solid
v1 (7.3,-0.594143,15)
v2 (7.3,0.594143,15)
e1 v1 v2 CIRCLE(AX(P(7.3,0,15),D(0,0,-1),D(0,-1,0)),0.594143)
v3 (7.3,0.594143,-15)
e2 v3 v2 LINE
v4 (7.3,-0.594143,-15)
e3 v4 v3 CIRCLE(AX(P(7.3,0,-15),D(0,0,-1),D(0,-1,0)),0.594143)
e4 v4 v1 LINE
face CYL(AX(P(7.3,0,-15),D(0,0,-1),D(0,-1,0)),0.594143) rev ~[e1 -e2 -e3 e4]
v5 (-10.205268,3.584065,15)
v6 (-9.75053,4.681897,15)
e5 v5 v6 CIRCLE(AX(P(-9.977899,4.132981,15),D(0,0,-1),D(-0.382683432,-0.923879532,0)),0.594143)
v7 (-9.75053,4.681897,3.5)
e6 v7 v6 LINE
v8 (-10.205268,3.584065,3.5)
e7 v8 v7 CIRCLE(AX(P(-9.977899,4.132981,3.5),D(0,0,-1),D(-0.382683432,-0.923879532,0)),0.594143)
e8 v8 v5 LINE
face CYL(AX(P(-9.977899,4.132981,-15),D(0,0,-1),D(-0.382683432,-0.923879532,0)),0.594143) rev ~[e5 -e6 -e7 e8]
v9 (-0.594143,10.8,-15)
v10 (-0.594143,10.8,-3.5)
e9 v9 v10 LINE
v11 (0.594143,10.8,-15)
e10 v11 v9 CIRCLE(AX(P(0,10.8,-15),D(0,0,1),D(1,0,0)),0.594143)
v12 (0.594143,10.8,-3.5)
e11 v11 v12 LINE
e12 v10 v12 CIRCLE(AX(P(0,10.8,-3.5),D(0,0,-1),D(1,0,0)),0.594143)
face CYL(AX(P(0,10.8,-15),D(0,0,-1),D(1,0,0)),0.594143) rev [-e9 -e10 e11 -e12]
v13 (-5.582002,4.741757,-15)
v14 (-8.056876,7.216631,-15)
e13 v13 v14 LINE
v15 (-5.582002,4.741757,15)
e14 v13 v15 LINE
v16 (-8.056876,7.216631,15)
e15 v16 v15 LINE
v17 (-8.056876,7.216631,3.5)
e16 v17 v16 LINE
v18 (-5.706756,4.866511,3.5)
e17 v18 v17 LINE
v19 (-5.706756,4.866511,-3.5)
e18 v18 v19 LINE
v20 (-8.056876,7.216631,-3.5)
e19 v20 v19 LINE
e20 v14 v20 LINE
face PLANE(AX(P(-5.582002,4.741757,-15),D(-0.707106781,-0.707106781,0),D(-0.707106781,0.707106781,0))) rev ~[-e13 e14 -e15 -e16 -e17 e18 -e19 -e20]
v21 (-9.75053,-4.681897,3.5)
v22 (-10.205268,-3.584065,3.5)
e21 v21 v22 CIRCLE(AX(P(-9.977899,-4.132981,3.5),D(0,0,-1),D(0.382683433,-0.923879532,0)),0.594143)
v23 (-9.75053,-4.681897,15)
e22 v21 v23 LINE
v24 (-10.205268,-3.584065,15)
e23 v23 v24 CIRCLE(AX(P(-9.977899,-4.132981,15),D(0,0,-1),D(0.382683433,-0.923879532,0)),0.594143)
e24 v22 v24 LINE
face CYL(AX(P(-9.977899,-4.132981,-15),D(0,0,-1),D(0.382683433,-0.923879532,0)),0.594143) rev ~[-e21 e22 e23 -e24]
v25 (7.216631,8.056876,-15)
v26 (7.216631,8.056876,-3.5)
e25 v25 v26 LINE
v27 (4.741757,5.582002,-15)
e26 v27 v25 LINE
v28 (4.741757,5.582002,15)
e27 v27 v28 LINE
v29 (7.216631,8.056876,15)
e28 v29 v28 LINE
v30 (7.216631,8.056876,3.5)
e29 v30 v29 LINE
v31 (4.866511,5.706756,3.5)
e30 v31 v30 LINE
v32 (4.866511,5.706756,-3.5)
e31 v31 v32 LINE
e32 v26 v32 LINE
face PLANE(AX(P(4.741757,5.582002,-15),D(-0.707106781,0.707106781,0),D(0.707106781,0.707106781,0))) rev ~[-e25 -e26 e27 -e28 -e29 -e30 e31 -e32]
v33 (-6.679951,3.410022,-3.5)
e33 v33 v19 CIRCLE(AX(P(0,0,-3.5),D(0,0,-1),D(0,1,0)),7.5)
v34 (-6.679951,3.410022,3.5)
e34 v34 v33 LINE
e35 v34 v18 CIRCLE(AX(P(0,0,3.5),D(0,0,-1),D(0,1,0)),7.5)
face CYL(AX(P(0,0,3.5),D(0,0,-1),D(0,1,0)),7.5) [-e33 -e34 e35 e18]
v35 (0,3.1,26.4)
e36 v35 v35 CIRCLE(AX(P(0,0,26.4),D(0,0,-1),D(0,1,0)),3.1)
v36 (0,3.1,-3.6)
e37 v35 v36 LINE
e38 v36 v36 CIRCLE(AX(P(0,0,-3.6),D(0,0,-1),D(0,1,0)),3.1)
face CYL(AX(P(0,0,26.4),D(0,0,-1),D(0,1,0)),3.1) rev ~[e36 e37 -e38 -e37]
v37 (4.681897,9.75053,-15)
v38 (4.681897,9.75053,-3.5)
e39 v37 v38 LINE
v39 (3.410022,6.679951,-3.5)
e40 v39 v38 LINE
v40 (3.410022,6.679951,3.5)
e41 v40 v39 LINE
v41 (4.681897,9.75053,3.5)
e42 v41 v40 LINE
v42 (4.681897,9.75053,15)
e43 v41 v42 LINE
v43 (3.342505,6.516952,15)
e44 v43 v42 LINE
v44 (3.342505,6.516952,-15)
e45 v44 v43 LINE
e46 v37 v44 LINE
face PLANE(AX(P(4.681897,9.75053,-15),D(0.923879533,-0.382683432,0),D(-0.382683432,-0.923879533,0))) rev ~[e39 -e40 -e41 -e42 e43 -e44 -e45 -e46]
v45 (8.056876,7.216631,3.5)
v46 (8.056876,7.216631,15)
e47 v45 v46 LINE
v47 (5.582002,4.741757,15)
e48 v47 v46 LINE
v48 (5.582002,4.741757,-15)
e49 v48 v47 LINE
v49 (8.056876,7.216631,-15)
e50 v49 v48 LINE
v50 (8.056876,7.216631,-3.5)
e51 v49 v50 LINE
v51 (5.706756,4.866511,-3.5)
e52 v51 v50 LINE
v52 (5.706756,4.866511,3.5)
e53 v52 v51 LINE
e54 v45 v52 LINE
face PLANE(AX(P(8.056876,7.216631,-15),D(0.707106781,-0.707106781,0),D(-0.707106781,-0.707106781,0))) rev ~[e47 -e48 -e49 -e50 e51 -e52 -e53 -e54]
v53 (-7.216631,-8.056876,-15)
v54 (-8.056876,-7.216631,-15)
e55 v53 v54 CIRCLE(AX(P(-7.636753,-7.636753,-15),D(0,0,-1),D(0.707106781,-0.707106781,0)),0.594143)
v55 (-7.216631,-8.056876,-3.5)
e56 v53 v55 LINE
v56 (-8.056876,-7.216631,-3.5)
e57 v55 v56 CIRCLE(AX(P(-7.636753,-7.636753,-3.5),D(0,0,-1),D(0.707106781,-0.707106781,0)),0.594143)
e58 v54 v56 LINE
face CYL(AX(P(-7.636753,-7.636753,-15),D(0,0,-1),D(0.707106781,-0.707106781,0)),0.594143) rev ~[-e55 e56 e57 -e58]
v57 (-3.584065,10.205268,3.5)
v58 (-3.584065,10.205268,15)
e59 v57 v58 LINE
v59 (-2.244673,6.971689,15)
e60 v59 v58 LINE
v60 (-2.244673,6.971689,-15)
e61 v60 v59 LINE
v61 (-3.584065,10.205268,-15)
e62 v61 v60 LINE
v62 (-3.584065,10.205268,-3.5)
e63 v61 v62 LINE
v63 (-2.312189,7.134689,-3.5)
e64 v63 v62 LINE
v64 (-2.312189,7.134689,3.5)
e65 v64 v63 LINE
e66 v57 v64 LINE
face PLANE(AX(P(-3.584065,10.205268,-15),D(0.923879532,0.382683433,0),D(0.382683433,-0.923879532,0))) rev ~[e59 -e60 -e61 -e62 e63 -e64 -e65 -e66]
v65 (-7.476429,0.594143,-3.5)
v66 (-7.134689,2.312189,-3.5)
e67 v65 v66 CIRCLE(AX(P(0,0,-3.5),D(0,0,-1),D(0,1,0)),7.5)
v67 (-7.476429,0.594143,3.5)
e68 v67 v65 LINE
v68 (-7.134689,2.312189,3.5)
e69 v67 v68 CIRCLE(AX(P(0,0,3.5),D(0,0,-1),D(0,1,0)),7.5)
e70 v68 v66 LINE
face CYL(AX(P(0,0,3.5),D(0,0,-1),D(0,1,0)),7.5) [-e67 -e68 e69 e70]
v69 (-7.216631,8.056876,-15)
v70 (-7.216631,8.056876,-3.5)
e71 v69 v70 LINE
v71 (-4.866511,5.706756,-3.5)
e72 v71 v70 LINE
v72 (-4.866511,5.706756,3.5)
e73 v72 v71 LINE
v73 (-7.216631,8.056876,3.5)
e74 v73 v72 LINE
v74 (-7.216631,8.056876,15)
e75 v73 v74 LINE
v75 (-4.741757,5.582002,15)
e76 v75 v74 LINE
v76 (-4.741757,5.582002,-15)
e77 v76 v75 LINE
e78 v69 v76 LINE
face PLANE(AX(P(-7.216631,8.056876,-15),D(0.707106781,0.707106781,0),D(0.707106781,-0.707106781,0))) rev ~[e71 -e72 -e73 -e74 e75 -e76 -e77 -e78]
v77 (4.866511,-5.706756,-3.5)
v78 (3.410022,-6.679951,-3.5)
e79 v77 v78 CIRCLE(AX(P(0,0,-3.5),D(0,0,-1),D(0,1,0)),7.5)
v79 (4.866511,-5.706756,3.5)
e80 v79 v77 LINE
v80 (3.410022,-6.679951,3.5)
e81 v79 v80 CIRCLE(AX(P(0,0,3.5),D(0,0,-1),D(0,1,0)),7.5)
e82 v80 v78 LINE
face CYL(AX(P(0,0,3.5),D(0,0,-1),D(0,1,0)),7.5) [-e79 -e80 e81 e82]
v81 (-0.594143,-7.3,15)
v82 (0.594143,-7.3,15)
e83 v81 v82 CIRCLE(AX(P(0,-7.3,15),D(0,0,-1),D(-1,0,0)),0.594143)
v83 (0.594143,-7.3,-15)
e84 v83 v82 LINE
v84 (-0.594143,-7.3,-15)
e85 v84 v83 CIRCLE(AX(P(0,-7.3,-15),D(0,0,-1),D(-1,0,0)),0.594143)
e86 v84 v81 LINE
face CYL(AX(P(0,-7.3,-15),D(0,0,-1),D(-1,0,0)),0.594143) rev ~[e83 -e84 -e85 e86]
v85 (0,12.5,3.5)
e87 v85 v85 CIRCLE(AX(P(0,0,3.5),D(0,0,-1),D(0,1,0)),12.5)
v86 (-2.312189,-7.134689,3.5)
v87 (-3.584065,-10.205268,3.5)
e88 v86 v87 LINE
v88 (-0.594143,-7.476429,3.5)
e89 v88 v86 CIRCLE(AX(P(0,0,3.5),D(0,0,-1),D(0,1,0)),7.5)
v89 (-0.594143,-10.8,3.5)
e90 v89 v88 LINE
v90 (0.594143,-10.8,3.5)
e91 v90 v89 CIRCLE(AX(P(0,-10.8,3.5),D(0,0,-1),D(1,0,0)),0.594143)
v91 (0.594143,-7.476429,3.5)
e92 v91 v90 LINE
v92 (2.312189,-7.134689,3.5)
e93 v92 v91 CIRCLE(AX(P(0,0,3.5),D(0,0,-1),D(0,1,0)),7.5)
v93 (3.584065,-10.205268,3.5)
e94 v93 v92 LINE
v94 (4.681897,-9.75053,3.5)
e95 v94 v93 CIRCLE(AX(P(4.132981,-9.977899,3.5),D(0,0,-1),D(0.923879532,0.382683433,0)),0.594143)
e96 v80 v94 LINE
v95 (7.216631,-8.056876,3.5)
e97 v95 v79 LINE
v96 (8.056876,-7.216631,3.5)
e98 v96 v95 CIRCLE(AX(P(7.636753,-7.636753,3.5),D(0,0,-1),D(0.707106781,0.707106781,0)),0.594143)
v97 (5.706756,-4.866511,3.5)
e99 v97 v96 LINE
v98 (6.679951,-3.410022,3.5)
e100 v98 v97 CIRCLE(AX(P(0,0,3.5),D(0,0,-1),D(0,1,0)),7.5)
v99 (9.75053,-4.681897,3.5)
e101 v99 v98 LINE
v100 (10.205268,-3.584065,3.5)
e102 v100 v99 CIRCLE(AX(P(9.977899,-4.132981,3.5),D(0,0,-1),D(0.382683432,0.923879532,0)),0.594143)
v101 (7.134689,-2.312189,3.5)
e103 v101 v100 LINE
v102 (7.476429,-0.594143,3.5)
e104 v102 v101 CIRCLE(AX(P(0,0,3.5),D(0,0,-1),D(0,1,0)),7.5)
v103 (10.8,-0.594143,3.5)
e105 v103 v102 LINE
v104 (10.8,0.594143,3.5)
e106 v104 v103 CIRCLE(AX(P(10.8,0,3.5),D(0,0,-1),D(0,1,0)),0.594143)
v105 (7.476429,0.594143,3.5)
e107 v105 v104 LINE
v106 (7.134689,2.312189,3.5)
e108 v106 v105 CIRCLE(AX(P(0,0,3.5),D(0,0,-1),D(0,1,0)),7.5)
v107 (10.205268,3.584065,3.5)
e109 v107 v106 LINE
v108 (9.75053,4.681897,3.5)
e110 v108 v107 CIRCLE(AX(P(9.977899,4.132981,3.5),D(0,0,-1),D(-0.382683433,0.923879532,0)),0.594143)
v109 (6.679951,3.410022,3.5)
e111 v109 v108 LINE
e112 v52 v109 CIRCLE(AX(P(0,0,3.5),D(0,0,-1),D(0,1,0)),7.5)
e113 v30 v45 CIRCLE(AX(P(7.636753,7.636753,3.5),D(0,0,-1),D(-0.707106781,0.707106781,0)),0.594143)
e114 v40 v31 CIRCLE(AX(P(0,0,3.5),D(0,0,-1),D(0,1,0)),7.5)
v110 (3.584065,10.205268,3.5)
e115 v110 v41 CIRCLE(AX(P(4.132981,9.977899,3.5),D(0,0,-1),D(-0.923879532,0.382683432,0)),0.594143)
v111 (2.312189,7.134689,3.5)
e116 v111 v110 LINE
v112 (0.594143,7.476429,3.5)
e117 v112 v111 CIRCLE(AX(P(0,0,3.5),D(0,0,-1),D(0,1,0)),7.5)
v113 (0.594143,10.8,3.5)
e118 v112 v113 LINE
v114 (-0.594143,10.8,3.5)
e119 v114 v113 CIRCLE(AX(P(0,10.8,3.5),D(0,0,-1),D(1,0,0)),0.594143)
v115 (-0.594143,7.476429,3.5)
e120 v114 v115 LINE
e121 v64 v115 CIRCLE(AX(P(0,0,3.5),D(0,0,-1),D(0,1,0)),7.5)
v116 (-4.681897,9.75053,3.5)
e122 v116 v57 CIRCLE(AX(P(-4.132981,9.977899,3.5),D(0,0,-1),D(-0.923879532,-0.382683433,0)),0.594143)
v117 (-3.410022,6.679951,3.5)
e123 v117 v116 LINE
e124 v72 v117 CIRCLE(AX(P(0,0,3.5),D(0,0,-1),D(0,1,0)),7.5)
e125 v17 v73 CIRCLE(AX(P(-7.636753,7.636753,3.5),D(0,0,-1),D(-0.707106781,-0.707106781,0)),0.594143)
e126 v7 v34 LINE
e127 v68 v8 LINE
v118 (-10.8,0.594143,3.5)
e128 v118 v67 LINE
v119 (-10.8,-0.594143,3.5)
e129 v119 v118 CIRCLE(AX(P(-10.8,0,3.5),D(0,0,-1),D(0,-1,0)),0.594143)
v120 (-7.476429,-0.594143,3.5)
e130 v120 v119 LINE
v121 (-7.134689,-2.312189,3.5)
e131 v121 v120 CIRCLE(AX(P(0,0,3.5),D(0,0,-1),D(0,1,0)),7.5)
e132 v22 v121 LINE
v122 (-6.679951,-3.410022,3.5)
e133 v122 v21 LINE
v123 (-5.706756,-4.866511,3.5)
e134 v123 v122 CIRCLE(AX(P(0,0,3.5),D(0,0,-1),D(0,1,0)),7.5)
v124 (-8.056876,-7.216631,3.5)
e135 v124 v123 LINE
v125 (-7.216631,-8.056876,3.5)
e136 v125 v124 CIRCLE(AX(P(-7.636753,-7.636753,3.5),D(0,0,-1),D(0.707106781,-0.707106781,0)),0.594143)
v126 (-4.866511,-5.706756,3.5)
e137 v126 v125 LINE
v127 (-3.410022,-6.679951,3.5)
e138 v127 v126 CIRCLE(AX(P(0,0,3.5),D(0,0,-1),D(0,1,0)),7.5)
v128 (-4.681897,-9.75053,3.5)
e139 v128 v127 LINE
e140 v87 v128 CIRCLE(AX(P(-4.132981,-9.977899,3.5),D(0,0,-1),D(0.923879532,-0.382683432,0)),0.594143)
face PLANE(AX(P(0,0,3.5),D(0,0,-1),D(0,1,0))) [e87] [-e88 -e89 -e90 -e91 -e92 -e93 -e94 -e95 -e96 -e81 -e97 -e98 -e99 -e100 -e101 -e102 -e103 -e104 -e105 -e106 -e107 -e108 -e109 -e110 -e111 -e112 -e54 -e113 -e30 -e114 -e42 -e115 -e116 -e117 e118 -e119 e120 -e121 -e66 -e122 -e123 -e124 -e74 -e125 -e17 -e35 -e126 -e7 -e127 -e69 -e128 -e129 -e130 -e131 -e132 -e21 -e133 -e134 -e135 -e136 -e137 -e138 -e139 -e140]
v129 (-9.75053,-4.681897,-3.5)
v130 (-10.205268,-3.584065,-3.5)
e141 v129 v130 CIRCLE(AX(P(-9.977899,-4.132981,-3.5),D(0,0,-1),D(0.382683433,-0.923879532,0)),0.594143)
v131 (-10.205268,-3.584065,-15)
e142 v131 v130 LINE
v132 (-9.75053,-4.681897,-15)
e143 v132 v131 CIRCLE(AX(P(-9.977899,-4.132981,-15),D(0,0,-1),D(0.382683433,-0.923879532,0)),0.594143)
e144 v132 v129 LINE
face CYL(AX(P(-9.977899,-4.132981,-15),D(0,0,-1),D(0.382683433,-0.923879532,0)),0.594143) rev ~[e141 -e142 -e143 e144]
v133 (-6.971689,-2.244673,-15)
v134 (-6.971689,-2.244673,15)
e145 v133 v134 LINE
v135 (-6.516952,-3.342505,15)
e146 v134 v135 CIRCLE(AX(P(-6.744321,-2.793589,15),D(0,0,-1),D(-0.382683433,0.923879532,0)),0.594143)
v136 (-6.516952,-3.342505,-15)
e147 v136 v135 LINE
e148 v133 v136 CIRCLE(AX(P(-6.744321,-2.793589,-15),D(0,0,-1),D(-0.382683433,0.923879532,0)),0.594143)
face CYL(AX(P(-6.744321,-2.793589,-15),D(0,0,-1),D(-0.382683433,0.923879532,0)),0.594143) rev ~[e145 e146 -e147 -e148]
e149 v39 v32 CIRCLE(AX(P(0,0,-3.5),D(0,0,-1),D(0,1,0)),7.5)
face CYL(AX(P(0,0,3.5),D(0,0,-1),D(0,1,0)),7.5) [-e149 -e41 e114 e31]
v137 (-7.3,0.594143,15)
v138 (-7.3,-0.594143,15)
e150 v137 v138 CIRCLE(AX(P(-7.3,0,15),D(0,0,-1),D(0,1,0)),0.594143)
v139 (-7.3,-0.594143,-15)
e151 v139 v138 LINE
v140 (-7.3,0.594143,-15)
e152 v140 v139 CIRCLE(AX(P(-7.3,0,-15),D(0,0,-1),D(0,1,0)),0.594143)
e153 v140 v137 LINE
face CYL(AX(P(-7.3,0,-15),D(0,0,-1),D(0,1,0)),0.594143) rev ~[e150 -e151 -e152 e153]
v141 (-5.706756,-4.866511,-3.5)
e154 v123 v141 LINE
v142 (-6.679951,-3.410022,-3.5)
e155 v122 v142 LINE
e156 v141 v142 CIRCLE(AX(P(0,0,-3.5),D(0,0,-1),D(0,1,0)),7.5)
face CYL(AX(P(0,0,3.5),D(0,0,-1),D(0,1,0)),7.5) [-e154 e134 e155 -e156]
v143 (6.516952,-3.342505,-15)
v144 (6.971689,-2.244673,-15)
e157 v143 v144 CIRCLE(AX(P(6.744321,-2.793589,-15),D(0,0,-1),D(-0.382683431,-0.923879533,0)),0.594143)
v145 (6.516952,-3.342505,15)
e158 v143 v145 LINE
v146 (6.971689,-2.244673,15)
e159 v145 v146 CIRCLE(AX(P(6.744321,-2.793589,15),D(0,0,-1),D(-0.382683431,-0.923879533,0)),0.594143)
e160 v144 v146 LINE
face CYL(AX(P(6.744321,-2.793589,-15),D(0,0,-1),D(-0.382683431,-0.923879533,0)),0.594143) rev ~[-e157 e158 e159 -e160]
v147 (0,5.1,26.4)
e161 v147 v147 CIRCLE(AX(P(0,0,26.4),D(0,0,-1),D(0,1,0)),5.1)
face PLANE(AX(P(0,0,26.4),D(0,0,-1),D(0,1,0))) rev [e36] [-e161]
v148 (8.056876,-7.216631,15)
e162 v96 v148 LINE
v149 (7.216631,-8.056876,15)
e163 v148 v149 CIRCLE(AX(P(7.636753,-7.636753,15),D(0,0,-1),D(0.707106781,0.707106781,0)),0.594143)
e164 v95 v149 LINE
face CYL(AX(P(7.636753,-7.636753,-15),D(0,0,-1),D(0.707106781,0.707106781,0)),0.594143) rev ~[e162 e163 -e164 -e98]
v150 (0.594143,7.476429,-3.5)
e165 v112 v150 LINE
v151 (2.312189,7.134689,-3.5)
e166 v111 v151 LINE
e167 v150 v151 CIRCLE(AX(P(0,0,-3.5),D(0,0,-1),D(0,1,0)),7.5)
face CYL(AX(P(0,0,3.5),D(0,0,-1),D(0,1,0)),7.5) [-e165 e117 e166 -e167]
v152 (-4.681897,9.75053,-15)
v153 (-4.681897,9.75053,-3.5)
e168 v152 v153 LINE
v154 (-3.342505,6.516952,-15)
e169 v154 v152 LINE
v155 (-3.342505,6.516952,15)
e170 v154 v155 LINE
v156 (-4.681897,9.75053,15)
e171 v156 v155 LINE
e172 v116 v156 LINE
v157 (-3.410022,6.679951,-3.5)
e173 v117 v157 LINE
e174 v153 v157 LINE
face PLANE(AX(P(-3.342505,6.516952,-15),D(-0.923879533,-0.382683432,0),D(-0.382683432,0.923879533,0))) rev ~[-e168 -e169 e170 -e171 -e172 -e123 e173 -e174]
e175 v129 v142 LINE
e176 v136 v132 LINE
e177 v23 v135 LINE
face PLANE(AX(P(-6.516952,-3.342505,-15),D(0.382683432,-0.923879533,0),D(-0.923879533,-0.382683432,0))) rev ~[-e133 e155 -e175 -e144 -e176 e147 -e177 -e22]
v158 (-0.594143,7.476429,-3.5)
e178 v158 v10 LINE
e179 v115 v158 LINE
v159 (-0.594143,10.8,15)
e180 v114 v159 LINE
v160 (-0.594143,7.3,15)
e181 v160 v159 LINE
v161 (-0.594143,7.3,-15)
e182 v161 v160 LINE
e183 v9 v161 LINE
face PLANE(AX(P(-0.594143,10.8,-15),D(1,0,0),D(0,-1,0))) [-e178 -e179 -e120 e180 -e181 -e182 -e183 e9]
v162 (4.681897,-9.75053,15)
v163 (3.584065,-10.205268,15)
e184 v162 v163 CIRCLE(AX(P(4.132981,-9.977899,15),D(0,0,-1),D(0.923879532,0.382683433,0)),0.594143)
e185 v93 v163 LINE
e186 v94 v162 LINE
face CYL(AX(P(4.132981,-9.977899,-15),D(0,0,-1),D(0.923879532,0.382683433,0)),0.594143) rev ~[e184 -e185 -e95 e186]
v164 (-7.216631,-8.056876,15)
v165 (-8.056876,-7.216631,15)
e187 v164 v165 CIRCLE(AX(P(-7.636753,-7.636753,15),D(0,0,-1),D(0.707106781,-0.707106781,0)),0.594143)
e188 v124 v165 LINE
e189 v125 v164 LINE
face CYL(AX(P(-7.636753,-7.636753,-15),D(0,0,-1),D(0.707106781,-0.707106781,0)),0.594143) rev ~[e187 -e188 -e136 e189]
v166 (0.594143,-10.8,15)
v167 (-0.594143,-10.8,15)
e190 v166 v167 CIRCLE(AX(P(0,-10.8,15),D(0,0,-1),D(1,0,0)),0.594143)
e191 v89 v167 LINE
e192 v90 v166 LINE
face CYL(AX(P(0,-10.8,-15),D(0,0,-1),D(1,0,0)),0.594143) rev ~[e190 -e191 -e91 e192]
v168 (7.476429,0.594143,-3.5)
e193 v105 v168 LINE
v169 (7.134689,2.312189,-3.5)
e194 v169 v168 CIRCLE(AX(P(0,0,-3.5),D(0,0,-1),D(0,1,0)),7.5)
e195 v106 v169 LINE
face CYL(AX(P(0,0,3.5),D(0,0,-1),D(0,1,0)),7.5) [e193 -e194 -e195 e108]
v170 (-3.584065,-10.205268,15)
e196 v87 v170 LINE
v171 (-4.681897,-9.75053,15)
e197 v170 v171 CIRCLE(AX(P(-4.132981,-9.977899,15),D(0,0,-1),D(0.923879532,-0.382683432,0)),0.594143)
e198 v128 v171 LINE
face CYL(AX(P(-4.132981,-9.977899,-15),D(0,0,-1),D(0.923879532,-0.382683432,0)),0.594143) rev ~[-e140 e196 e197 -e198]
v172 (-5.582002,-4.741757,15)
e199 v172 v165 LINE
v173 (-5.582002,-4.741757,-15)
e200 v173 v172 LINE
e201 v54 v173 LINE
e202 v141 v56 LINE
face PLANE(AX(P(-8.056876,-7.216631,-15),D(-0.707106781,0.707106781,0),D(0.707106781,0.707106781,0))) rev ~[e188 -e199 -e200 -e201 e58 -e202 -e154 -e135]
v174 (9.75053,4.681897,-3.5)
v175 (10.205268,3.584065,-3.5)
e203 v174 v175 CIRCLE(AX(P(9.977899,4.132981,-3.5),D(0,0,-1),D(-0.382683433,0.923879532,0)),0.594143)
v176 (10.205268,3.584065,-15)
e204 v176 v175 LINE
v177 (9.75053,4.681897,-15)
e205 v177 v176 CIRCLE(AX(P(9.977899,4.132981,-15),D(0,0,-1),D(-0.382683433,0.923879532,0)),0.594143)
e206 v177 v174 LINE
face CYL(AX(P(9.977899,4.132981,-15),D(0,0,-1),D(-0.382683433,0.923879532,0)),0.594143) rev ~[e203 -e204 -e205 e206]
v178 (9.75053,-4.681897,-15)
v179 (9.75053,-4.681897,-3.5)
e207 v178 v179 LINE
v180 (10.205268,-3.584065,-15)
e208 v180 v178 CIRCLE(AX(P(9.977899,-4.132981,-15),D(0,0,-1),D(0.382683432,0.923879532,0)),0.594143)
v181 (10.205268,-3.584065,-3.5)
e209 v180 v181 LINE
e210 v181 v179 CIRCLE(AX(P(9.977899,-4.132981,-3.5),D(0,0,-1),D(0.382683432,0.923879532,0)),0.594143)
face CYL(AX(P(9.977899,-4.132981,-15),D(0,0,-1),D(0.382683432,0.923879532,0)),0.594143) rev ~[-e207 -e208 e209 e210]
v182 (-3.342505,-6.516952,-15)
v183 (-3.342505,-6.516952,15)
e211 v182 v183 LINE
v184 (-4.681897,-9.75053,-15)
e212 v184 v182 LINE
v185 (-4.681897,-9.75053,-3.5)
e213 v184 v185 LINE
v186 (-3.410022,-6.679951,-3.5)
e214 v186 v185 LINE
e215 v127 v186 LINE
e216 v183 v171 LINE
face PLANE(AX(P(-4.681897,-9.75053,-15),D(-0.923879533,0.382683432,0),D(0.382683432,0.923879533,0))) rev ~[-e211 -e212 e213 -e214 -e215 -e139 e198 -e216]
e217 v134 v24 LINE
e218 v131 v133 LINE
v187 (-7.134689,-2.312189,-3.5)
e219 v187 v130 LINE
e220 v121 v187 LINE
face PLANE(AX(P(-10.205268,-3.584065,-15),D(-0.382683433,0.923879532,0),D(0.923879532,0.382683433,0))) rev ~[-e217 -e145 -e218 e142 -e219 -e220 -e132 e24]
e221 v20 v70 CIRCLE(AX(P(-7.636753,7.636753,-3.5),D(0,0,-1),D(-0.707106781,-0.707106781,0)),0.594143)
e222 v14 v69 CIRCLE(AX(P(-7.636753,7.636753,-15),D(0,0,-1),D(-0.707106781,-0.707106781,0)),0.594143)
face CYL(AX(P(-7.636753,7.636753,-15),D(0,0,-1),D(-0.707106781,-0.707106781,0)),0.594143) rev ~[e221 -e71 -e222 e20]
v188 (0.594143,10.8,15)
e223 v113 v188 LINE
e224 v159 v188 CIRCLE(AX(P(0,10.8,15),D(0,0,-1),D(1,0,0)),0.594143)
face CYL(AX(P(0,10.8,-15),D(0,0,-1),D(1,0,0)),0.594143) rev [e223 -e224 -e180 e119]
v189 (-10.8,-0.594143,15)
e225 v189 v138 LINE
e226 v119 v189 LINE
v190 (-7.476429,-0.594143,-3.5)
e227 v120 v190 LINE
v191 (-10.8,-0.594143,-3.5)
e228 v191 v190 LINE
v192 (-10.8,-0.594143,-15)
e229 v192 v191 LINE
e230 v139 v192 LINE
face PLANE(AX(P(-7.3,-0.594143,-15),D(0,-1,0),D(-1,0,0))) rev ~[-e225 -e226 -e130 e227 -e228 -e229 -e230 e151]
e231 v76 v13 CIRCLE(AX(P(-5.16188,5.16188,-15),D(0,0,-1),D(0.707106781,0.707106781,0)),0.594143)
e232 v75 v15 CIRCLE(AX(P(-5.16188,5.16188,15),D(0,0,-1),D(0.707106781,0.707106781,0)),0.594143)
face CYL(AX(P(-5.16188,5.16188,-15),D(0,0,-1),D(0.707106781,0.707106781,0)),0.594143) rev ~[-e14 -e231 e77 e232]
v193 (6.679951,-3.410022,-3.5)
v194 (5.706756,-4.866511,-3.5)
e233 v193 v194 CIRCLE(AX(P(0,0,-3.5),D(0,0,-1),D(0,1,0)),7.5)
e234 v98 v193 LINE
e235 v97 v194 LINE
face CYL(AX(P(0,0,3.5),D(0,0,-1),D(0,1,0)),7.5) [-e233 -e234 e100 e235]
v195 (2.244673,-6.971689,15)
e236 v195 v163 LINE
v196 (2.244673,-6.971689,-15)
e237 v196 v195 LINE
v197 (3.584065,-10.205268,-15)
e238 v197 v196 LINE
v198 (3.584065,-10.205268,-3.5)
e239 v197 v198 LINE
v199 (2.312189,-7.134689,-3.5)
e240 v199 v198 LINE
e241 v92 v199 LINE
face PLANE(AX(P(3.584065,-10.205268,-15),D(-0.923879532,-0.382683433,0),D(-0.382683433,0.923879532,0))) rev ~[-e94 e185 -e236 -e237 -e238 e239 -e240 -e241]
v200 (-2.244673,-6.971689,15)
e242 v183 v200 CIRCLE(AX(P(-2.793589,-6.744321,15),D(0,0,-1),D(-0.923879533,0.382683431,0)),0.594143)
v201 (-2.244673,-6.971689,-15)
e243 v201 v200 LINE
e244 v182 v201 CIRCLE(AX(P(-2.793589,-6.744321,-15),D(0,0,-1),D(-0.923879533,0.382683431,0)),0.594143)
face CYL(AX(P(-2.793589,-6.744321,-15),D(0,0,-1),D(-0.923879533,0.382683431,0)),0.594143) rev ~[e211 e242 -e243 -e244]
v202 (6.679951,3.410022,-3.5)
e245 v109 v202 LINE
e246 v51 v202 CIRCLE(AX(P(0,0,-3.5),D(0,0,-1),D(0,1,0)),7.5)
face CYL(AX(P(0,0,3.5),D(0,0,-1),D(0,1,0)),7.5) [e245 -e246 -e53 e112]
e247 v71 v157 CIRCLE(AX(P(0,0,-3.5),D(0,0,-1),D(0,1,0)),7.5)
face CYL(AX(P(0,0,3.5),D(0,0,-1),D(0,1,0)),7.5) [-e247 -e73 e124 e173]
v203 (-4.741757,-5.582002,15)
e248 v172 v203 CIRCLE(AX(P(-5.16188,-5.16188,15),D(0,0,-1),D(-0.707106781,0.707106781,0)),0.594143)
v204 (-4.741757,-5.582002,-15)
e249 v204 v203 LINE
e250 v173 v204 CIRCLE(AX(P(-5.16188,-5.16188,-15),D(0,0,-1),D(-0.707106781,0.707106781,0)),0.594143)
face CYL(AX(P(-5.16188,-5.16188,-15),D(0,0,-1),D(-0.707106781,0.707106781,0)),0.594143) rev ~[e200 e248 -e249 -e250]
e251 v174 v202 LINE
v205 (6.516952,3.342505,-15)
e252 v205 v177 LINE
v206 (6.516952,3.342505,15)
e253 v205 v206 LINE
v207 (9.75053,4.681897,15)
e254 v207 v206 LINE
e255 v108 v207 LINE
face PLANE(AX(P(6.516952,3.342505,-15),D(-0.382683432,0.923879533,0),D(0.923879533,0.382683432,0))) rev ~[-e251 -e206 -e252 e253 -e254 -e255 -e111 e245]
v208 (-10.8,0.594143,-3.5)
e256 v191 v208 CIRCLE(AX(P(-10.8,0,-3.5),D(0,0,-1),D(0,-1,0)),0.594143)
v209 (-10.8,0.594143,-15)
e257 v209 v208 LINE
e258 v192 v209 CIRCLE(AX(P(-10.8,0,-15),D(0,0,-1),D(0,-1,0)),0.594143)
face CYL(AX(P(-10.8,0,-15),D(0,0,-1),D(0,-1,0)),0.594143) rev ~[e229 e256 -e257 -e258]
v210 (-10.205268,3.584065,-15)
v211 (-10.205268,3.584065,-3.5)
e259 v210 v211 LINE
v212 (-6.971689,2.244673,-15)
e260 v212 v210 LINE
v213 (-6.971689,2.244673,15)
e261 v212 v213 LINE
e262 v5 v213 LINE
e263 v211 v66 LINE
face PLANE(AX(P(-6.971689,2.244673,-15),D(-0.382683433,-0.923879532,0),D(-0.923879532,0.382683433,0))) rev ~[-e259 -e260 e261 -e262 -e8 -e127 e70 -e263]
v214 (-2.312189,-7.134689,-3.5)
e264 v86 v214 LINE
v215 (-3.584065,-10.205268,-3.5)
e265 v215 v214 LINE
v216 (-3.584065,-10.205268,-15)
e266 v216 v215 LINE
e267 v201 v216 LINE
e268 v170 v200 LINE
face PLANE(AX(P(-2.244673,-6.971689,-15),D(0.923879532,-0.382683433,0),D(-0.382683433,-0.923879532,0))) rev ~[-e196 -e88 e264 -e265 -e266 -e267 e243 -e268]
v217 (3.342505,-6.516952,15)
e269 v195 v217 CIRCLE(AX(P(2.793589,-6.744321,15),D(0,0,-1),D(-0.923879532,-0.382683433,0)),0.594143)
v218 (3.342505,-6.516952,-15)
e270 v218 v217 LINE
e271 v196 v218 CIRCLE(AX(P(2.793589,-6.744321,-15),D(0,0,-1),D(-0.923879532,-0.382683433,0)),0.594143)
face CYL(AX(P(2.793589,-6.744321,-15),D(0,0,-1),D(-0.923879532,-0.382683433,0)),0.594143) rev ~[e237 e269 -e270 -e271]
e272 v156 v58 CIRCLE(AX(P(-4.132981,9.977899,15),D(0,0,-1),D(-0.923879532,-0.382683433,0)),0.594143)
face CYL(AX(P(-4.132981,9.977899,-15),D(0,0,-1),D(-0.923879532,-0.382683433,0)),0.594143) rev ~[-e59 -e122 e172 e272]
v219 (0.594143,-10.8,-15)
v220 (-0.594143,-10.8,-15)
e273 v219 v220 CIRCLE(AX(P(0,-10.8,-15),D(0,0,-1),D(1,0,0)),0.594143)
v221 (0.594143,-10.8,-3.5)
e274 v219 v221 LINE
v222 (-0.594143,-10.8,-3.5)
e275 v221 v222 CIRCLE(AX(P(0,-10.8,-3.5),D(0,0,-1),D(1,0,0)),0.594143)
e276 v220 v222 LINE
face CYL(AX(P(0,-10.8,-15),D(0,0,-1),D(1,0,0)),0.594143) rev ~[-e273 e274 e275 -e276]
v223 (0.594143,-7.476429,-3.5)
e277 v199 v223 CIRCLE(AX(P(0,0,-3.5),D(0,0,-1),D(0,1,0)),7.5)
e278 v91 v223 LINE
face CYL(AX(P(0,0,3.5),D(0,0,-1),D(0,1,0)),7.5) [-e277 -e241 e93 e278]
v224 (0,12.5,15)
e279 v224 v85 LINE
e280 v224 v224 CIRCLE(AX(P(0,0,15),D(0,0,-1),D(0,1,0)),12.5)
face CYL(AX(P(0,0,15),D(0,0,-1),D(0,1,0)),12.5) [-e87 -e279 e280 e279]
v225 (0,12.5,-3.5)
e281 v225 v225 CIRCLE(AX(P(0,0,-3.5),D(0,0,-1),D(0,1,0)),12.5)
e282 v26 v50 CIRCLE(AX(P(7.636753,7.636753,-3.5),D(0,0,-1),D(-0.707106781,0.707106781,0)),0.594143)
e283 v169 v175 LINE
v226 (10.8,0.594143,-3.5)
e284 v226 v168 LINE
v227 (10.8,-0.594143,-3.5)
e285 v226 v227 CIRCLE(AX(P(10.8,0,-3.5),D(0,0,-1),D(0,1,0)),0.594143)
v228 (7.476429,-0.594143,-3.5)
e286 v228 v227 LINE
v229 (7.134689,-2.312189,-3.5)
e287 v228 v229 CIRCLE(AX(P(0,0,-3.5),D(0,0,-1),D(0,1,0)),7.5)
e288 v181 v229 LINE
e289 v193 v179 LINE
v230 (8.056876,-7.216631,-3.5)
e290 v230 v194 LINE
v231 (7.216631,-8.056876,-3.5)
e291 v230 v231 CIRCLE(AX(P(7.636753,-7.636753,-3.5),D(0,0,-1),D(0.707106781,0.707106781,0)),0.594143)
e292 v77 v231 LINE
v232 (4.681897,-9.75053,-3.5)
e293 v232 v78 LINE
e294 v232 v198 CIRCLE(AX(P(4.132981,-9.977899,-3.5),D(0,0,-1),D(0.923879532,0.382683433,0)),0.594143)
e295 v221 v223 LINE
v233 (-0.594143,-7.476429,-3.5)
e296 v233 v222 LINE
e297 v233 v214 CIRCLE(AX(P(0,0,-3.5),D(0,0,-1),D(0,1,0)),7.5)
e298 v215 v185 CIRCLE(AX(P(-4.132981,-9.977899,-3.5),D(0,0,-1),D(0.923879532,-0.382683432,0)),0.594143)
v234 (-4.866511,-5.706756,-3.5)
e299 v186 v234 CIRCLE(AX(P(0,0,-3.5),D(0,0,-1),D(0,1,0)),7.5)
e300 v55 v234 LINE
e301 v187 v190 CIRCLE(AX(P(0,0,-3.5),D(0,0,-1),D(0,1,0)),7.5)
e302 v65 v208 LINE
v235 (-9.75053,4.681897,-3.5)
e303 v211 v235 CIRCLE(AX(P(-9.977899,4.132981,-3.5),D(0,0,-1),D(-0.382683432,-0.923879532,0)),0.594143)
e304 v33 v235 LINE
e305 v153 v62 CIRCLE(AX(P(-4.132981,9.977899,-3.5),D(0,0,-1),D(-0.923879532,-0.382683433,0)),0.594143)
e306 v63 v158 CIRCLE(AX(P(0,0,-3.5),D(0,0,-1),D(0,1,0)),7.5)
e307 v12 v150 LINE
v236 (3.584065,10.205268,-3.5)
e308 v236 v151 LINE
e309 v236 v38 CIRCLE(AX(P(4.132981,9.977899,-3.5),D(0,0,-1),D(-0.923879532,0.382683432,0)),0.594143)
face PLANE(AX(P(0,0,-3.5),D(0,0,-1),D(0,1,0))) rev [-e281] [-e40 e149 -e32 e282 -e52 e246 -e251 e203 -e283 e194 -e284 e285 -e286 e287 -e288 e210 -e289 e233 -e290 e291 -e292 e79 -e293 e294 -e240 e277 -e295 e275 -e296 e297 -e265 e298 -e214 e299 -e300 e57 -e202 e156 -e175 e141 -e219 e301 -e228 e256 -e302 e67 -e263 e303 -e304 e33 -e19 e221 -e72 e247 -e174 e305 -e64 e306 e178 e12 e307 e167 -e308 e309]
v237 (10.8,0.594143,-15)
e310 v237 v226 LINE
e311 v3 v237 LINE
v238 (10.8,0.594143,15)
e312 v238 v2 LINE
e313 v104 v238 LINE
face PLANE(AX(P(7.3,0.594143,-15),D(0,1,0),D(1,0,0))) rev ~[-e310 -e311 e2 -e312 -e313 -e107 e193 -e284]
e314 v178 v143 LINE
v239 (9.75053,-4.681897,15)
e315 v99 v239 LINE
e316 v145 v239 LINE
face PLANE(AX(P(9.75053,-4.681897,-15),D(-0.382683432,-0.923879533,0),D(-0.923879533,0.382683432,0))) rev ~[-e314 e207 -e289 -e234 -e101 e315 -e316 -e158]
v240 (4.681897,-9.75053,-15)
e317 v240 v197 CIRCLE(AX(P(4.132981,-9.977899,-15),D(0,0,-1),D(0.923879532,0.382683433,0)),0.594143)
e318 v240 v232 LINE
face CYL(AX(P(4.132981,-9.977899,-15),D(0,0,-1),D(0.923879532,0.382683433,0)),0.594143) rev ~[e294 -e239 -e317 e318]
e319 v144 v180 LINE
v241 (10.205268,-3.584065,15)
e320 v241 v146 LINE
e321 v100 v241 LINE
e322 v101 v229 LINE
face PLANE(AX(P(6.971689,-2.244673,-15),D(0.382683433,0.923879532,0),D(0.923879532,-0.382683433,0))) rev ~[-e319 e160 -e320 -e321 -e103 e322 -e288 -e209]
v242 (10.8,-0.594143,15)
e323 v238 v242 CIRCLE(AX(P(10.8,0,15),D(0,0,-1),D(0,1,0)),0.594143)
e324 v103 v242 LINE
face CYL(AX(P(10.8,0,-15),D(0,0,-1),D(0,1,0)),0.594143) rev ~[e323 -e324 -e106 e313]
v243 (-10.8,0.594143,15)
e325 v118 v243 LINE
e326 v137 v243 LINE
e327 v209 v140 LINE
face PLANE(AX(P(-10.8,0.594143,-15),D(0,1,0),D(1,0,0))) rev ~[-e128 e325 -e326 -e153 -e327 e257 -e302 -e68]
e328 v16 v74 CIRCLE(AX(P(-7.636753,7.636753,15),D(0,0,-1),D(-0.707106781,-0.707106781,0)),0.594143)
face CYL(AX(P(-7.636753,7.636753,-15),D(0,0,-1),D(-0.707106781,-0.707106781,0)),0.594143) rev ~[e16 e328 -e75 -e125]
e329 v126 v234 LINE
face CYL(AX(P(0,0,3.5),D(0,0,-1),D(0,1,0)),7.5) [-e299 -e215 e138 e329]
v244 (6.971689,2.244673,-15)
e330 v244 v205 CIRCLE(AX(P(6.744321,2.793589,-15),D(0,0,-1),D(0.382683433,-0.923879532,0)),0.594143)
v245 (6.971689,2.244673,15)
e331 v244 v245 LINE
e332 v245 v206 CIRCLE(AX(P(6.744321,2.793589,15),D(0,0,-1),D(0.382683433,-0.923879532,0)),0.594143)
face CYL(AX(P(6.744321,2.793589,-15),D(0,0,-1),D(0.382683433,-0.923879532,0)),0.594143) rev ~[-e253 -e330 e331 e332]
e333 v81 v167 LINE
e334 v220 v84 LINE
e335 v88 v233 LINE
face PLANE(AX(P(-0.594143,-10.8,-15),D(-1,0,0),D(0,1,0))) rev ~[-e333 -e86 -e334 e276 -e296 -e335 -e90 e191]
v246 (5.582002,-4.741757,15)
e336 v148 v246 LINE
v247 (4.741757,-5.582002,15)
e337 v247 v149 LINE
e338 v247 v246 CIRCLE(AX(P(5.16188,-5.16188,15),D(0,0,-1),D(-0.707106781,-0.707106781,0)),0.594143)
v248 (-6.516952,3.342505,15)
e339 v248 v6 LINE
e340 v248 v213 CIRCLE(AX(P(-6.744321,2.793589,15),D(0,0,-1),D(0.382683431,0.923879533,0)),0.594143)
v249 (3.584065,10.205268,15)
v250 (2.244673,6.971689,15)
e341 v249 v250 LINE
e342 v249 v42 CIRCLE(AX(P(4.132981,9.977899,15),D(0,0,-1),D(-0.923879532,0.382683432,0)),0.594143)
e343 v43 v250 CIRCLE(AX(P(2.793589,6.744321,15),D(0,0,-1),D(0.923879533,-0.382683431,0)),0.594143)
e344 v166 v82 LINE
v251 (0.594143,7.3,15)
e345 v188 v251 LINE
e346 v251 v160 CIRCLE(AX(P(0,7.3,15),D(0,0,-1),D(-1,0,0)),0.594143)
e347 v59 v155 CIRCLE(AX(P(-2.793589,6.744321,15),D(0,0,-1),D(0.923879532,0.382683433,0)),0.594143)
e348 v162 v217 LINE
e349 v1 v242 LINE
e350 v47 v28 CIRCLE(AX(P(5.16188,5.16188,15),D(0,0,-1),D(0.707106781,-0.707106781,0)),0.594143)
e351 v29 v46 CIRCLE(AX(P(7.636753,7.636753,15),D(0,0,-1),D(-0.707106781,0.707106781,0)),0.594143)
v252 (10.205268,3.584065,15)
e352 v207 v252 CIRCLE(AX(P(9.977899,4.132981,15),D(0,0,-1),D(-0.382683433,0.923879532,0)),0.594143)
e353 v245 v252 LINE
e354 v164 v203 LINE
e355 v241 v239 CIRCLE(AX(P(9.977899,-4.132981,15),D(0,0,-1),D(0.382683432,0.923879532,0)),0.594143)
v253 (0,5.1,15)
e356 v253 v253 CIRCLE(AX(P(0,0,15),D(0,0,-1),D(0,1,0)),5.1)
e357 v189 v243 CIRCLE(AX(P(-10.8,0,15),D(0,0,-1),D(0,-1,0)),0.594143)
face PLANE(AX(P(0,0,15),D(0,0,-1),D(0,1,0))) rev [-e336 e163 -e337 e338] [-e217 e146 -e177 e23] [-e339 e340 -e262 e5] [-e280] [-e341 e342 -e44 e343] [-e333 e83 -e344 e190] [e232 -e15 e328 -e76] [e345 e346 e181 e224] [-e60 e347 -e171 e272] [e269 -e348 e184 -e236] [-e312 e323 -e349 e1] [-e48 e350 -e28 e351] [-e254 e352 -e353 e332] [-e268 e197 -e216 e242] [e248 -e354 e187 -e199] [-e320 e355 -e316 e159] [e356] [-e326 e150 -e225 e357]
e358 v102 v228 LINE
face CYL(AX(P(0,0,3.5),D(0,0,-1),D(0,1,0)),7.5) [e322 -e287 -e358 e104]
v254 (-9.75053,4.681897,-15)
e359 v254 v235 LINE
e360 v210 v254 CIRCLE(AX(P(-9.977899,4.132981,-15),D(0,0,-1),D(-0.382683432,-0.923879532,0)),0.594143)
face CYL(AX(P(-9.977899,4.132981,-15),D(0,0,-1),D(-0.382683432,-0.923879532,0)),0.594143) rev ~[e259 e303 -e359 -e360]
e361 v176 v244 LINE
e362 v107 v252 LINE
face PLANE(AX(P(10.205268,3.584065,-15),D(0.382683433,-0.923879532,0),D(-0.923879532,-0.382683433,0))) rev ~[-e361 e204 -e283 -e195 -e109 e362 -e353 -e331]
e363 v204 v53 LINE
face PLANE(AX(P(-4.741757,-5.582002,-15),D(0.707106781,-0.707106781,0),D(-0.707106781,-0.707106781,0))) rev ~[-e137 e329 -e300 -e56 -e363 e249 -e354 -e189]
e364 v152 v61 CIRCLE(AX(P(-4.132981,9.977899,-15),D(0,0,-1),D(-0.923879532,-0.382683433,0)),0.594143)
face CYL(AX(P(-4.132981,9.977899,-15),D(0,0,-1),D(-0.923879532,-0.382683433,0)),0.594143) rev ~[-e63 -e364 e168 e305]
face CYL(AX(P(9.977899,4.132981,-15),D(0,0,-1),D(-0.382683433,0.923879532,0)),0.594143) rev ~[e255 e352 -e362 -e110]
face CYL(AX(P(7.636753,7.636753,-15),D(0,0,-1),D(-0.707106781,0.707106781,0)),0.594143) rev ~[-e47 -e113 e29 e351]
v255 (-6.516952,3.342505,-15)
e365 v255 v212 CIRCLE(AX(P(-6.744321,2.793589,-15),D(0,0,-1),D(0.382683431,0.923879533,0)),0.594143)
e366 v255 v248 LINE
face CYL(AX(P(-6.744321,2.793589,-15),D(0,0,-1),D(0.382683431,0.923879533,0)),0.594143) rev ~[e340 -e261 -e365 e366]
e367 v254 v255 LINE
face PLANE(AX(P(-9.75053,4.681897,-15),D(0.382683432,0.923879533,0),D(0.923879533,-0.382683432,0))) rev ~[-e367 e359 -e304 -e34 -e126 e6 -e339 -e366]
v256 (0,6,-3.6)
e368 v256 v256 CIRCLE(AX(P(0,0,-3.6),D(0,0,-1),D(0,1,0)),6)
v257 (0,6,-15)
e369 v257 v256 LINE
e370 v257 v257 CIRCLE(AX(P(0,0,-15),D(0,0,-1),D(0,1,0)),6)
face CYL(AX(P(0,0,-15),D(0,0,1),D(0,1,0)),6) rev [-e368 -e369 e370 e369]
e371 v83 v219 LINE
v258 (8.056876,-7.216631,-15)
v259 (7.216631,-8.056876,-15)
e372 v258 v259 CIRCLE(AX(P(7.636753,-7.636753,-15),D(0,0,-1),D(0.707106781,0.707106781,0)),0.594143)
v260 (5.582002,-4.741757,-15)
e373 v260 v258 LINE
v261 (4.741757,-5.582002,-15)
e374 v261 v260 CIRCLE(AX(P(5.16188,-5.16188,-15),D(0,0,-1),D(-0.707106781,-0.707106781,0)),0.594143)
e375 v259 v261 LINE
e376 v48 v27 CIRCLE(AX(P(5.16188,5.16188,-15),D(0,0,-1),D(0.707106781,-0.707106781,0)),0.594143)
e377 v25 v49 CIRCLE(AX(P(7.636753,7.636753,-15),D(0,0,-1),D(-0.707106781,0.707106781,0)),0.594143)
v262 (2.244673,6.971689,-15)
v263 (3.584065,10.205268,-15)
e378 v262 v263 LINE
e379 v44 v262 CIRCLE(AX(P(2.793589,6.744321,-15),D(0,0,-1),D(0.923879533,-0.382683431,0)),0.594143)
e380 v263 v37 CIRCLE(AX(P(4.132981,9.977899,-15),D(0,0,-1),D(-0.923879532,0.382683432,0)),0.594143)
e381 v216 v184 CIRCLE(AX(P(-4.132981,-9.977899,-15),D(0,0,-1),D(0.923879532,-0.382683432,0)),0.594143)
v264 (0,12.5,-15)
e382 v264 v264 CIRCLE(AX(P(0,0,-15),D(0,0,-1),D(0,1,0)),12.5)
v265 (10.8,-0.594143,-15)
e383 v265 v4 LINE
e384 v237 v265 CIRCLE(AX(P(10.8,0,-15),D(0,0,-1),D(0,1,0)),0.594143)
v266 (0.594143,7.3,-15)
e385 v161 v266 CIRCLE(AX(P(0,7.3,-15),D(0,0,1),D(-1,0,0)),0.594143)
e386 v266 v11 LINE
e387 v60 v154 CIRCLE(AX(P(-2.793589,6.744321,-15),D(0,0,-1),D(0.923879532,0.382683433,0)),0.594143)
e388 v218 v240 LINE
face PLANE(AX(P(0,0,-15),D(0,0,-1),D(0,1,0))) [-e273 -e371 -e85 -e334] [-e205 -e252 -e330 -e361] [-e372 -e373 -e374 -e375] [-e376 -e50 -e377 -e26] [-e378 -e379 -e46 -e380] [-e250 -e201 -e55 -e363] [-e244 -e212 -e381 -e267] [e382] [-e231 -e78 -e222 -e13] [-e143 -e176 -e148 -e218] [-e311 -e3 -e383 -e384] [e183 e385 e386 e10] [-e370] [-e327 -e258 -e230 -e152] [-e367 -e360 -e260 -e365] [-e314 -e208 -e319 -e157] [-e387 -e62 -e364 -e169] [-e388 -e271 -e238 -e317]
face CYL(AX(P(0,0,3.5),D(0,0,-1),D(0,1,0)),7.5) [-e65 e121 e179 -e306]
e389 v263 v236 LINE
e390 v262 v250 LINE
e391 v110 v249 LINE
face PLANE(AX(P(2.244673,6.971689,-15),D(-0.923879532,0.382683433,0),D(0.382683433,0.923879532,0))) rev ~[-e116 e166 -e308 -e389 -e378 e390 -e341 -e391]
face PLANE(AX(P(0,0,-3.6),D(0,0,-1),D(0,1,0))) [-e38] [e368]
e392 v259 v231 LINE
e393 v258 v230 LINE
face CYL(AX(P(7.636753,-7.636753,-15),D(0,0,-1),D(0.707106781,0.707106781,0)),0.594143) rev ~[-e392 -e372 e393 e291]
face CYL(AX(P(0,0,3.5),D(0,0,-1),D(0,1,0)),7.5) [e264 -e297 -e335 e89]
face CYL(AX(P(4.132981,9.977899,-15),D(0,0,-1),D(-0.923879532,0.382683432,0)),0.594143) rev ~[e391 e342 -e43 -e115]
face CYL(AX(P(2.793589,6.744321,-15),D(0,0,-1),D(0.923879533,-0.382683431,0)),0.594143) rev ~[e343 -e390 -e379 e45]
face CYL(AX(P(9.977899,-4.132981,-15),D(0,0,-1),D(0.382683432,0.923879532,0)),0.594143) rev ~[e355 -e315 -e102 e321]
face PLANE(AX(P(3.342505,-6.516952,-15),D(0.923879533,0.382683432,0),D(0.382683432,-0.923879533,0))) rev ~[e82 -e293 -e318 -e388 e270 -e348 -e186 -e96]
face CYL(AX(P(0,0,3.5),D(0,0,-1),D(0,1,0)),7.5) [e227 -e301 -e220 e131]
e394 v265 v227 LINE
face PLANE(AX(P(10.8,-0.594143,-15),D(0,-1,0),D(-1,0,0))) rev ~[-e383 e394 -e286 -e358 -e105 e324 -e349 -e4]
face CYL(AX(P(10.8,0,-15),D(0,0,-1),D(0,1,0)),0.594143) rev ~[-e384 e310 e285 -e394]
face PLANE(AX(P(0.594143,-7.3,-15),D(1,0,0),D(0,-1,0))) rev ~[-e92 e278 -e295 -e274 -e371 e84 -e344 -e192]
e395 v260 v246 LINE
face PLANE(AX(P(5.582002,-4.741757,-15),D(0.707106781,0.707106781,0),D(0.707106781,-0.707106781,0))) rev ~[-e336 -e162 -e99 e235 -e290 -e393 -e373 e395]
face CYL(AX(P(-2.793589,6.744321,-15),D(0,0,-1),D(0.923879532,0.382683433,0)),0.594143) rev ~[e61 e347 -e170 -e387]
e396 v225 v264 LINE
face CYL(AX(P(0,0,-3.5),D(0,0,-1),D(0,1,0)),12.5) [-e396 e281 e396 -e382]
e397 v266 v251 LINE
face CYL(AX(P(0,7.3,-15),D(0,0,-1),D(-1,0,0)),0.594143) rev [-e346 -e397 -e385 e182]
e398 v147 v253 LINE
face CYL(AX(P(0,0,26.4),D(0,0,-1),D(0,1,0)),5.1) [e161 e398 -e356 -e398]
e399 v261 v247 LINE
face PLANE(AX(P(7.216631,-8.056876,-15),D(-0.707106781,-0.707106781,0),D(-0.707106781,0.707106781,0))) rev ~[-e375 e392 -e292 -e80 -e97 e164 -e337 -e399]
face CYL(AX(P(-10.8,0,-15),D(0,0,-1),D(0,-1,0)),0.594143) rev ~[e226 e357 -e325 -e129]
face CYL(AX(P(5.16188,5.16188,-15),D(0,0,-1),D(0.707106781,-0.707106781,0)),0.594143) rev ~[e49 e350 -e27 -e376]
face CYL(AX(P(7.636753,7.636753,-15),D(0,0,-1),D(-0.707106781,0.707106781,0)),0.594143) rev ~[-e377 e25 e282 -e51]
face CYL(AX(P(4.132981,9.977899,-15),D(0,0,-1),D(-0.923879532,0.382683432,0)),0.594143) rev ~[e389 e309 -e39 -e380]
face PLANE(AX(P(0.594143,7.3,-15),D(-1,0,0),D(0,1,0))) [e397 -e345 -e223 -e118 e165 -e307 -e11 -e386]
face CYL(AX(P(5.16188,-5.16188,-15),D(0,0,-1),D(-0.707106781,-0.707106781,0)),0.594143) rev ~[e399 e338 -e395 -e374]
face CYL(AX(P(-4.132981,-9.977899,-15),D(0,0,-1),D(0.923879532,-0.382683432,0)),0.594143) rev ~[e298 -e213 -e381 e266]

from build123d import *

# Parameters (mm, degrees)
CUT_EXTRUDE1_DEPTH = 86


with BuildPart() as part:
    # Sketch1 → Revolve1 (revolve)
    with BuildSketch(Plane(origin=(0, 0, 0), x_dir=(0, 0, -1), z_dir=(1, 0, 0))):
        Polygon((-15, 0), (15, 0), (3.6, 0), align=None)
        Polygon((-15, 5.1), (-15, 12.5), (-3.5, 12.5), (-3.5, 7.5), (3.5, 7.5), (3.5, 12.5), (15, 12.5), (15, 6), (3.6, 6), (3.6, 3.1), (-15, 3.1), (-26.4, 3.1), (-26.4, 5.1), align=None)
    revolve(axis=Axis((0, 0, 15), (0, 0, -1)))

    # Sketch2 → Cut-Extrude1 (cut)
    with BuildSketch(Plane(origin=(0, 0, -15), x_dir=(-1, 0, 0), z_dir=(0, 0, -1))):
        with BuildLine():
            Line((0.59414275, 10.8), (0.59414275, 7.3))
            ThreePointArc((0.59414275, 7.3), (0, 6.70585725), (-0.59414275, 7.3))
            Line((-0.59414275, 7.3), (-0.59414275, 10.8))
            ThreePointArc((-0.59414275, 10.8), (0, 11.39414275), (0.59414275, 10.8))
        make_face()
        with BuildLine():
            Line((3.584064744, 10.205267538), (2.24467273, 6.971689174))
            ThreePointArc((2.24467273, 6.971689174), (2.566220469, 6.195404261), (3.342505382, 6.516952001))
            Line((3.342505382, 6.516952001), (4.681897395, 9.750530364))
            ThreePointArc((4.681897395, 9.750530364), (4.360349656, 10.526815277), (3.584064744, 10.205267538))
        make_face()
        with BuildLine():
            Line((7.216630869, 8.056875604), (4.741757135, 5.58200187))
            ThreePointArc((4.741757135, 5.58200187), (4.741757135, 4.741757135), (5.58200187, 4.741757135))
            Line((5.58200187, 4.741757135), (8.056875604, 7.216630869))
            ThreePointArc((8.056875604, 7.216630869), (8.056875604, 8.056875604), (7.216630869, 8.056875604))
        make_face()
        with BuildLine():
            Line((9.750530364, 4.681897395), (6.516952001, 3.342505382))
            ThreePointArc((6.516952001, 3.342505382), (6.195404261, 2.566220469), (6.971689174, 2.24467273))
            Line((6.971689174, 2.24467273), (10.205267538, 3.584064744))
            ThreePointArc((10.205267538, 3.584064744), (10.526815277, 4.360349656), (9.750530364, 4.681897395))
        make_face()
        with BuildLine():
            Line((10.8, 0.59414275), (7.3, 0.59414275))
            ThreePointArc((7.3, 0.59414275), (6.70585725, 0), (7.3, -0.59414275))
            Line((7.3, -0.59414275), (10.8, -0.59414275))
            ThreePointArc((10.8, -0.59414275), (11.39414275, 0), (10.8, 0.59414275))
        make_face()
        with BuildLine():
            Line((10.205267538, -3.584064744), (6.971689174, -2.24467273))
            ThreePointArc((6.971689174, -2.24467273), (6.195404261, -2.566220469), (6.516952001, -3.342505382))
            Line((6.516952001, -3.342505382), (9.750530364, -4.681897395))
            ThreePointArc((9.750530364, -4.681897395), (10.526815277, -4.360349656), (10.205267538, -3.584064744))
        make_face()
        with BuildLine():
            Line((8.056875604, -7.216630869), (5.58200187, -4.741757135))
            ThreePointArc((5.58200187, -4.741757135), (4.741757135, -4.741757135), (4.741757135, -5.58200187))
            Line((4.741757135, -5.58200187), (7.216630869, -8.056875604))
            ThreePointArc((7.216630869, -8.056875604), (8.056875604, -8.056875604), (8.056875604, -7.216630869))
        make_face()
        with BuildLine():
            Line((4.681897395, -9.750530364), (3.342505382, -6.516952001))
            ThreePointArc((3.342505382, -6.516952001), (2.566220469, -6.195404261), (2.24467273, -6.971689174))
            Line((2.24467273, -6.971689174), (3.584064744, -10.205267538))
            ThreePointArc((3.584064744, -10.205267538), (4.360349656, -10.526815277), (4.681897395, -9.750530364))
        make_face()
        with BuildLine():
            Line((0.59414275, -10.8), (0.59414275, -7.3))
            ThreePointArc((0.59414275, -7.3), (0, -6.70585725), (-0.59414275, -7.3))
            Line((-0.59414275, -7.3), (-0.59414275, -10.8))
            ThreePointArc((-0.59414275, -10.8), (0, -11.39414275), (0.59414275, -10.8))
        make_face()
        with BuildLine():
            Line((-3.584064744, -10.205267538), (-2.24467273, -6.971689174))
            ThreePointArc((-2.24467273, -6.971689174), (-2.566220469, -6.195404261), (-3.342505382, -6.516952001))
            Line((-3.342505382, -6.516952001), (-4.681897395, -9.750530364))
            ThreePointArc((-4.681897395, -9.750530364), (-4.360349656, -10.526815277), (-3.584064744, -10.205267538))
        make_face()
        with BuildLine():
            Line((-7.216630869, -8.056875604), (-4.741757135, -5.58200187))
            ThreePointArc((-4.741757135, -5.58200187), (-4.741757135, -4.741757135), (-5.58200187, -4.741757135))
            Line((-5.58200187, -4.741757135), (-8.056875604, -7.216630869))
            ThreePointArc((-8.056875604, -7.216630869), (-8.056875604, -8.056875604), (-7.216630869, -8.056875604))
        make_face()
        with BuildLine():
            Line((-9.750530364, -4.681897395), (-6.516952001, -3.342505382))
            ThreePointArc((-6.516952001, -3.342505382), (-6.195404261, -2.566220469), (-6.971689174, -2.24467273))
            Line((-6.971689174, -2.24467273), (-10.205267538, -3.584064744))
            ThreePointArc((-10.205267538, -3.584064744), (-10.526815277, -4.360349656), (-9.750530364, -4.681897395))
        make_face()
        with BuildLine():
            Line((-10.8, -0.59414275), (-7.3, -0.59414275))
            ThreePointArc((-7.3, -0.59414275), (-6.70585725, 0), (-7.3, 0.59414275))
            Line((-7.3, 0.59414275), (-10.8, 0.59414275))
            ThreePointArc((-10.8, 0.59414275), (-11.39414275, 0), (-10.8, -0.59414275))
        make_face()
        with BuildLine():
            Line((-10.205267538, 3.584064744), (-6.971689174, 2.24467273))
            ThreePointArc((-6.971689174, 2.24467273), (-6.195404261, 2.566220469), (-6.516952001, 3.342505382))
            Line((-6.516952001, 3.342505382), (-9.750530364, 4.681897395))
            ThreePointArc((-9.750530364, 4.681897395), (-10.526815277, 4.360349656), (-10.205267538, 3.584064744))
        make_face()
        with BuildLine():
            Line((-8.056875604, 7.216630869), (-5.58200187, 4.741757135))
            ThreePointArc((-5.58200187, 4.741757135), (-4.741757135, 4.741757135), (-4.741757135, 5.58200187))
            Line((-4.741757135, 5.58200187), (-7.216630869, 8.056875604))
            ThreePointArc((-7.216630869, 8.056875604), (-8.056875604, 8.056875604), (-8.056875604, 7.216630869))
        make_face()
        with BuildLine():
            Line((-4.681897395, 9.750530364), (-3.342505382, 6.516952001))
            ThreePointArc((-3.342505382, 6.516952001), (-2.566220469, 6.195404261), (-2.24467273, 6.971689174))
            Line((-2.24467273, 6.971689174), (-3.584064744, 10.205267538))
            ThreePointArc((-3.584064744, 10.205267538), (-4.360349656, 10.526815277), (-4.681897395, 9.750530364))
        make_face()
    extrude(amount=-CUT_EXTRUDE1_DEPTH, mode=Mode.SUBTRACT)


solid = part.part
